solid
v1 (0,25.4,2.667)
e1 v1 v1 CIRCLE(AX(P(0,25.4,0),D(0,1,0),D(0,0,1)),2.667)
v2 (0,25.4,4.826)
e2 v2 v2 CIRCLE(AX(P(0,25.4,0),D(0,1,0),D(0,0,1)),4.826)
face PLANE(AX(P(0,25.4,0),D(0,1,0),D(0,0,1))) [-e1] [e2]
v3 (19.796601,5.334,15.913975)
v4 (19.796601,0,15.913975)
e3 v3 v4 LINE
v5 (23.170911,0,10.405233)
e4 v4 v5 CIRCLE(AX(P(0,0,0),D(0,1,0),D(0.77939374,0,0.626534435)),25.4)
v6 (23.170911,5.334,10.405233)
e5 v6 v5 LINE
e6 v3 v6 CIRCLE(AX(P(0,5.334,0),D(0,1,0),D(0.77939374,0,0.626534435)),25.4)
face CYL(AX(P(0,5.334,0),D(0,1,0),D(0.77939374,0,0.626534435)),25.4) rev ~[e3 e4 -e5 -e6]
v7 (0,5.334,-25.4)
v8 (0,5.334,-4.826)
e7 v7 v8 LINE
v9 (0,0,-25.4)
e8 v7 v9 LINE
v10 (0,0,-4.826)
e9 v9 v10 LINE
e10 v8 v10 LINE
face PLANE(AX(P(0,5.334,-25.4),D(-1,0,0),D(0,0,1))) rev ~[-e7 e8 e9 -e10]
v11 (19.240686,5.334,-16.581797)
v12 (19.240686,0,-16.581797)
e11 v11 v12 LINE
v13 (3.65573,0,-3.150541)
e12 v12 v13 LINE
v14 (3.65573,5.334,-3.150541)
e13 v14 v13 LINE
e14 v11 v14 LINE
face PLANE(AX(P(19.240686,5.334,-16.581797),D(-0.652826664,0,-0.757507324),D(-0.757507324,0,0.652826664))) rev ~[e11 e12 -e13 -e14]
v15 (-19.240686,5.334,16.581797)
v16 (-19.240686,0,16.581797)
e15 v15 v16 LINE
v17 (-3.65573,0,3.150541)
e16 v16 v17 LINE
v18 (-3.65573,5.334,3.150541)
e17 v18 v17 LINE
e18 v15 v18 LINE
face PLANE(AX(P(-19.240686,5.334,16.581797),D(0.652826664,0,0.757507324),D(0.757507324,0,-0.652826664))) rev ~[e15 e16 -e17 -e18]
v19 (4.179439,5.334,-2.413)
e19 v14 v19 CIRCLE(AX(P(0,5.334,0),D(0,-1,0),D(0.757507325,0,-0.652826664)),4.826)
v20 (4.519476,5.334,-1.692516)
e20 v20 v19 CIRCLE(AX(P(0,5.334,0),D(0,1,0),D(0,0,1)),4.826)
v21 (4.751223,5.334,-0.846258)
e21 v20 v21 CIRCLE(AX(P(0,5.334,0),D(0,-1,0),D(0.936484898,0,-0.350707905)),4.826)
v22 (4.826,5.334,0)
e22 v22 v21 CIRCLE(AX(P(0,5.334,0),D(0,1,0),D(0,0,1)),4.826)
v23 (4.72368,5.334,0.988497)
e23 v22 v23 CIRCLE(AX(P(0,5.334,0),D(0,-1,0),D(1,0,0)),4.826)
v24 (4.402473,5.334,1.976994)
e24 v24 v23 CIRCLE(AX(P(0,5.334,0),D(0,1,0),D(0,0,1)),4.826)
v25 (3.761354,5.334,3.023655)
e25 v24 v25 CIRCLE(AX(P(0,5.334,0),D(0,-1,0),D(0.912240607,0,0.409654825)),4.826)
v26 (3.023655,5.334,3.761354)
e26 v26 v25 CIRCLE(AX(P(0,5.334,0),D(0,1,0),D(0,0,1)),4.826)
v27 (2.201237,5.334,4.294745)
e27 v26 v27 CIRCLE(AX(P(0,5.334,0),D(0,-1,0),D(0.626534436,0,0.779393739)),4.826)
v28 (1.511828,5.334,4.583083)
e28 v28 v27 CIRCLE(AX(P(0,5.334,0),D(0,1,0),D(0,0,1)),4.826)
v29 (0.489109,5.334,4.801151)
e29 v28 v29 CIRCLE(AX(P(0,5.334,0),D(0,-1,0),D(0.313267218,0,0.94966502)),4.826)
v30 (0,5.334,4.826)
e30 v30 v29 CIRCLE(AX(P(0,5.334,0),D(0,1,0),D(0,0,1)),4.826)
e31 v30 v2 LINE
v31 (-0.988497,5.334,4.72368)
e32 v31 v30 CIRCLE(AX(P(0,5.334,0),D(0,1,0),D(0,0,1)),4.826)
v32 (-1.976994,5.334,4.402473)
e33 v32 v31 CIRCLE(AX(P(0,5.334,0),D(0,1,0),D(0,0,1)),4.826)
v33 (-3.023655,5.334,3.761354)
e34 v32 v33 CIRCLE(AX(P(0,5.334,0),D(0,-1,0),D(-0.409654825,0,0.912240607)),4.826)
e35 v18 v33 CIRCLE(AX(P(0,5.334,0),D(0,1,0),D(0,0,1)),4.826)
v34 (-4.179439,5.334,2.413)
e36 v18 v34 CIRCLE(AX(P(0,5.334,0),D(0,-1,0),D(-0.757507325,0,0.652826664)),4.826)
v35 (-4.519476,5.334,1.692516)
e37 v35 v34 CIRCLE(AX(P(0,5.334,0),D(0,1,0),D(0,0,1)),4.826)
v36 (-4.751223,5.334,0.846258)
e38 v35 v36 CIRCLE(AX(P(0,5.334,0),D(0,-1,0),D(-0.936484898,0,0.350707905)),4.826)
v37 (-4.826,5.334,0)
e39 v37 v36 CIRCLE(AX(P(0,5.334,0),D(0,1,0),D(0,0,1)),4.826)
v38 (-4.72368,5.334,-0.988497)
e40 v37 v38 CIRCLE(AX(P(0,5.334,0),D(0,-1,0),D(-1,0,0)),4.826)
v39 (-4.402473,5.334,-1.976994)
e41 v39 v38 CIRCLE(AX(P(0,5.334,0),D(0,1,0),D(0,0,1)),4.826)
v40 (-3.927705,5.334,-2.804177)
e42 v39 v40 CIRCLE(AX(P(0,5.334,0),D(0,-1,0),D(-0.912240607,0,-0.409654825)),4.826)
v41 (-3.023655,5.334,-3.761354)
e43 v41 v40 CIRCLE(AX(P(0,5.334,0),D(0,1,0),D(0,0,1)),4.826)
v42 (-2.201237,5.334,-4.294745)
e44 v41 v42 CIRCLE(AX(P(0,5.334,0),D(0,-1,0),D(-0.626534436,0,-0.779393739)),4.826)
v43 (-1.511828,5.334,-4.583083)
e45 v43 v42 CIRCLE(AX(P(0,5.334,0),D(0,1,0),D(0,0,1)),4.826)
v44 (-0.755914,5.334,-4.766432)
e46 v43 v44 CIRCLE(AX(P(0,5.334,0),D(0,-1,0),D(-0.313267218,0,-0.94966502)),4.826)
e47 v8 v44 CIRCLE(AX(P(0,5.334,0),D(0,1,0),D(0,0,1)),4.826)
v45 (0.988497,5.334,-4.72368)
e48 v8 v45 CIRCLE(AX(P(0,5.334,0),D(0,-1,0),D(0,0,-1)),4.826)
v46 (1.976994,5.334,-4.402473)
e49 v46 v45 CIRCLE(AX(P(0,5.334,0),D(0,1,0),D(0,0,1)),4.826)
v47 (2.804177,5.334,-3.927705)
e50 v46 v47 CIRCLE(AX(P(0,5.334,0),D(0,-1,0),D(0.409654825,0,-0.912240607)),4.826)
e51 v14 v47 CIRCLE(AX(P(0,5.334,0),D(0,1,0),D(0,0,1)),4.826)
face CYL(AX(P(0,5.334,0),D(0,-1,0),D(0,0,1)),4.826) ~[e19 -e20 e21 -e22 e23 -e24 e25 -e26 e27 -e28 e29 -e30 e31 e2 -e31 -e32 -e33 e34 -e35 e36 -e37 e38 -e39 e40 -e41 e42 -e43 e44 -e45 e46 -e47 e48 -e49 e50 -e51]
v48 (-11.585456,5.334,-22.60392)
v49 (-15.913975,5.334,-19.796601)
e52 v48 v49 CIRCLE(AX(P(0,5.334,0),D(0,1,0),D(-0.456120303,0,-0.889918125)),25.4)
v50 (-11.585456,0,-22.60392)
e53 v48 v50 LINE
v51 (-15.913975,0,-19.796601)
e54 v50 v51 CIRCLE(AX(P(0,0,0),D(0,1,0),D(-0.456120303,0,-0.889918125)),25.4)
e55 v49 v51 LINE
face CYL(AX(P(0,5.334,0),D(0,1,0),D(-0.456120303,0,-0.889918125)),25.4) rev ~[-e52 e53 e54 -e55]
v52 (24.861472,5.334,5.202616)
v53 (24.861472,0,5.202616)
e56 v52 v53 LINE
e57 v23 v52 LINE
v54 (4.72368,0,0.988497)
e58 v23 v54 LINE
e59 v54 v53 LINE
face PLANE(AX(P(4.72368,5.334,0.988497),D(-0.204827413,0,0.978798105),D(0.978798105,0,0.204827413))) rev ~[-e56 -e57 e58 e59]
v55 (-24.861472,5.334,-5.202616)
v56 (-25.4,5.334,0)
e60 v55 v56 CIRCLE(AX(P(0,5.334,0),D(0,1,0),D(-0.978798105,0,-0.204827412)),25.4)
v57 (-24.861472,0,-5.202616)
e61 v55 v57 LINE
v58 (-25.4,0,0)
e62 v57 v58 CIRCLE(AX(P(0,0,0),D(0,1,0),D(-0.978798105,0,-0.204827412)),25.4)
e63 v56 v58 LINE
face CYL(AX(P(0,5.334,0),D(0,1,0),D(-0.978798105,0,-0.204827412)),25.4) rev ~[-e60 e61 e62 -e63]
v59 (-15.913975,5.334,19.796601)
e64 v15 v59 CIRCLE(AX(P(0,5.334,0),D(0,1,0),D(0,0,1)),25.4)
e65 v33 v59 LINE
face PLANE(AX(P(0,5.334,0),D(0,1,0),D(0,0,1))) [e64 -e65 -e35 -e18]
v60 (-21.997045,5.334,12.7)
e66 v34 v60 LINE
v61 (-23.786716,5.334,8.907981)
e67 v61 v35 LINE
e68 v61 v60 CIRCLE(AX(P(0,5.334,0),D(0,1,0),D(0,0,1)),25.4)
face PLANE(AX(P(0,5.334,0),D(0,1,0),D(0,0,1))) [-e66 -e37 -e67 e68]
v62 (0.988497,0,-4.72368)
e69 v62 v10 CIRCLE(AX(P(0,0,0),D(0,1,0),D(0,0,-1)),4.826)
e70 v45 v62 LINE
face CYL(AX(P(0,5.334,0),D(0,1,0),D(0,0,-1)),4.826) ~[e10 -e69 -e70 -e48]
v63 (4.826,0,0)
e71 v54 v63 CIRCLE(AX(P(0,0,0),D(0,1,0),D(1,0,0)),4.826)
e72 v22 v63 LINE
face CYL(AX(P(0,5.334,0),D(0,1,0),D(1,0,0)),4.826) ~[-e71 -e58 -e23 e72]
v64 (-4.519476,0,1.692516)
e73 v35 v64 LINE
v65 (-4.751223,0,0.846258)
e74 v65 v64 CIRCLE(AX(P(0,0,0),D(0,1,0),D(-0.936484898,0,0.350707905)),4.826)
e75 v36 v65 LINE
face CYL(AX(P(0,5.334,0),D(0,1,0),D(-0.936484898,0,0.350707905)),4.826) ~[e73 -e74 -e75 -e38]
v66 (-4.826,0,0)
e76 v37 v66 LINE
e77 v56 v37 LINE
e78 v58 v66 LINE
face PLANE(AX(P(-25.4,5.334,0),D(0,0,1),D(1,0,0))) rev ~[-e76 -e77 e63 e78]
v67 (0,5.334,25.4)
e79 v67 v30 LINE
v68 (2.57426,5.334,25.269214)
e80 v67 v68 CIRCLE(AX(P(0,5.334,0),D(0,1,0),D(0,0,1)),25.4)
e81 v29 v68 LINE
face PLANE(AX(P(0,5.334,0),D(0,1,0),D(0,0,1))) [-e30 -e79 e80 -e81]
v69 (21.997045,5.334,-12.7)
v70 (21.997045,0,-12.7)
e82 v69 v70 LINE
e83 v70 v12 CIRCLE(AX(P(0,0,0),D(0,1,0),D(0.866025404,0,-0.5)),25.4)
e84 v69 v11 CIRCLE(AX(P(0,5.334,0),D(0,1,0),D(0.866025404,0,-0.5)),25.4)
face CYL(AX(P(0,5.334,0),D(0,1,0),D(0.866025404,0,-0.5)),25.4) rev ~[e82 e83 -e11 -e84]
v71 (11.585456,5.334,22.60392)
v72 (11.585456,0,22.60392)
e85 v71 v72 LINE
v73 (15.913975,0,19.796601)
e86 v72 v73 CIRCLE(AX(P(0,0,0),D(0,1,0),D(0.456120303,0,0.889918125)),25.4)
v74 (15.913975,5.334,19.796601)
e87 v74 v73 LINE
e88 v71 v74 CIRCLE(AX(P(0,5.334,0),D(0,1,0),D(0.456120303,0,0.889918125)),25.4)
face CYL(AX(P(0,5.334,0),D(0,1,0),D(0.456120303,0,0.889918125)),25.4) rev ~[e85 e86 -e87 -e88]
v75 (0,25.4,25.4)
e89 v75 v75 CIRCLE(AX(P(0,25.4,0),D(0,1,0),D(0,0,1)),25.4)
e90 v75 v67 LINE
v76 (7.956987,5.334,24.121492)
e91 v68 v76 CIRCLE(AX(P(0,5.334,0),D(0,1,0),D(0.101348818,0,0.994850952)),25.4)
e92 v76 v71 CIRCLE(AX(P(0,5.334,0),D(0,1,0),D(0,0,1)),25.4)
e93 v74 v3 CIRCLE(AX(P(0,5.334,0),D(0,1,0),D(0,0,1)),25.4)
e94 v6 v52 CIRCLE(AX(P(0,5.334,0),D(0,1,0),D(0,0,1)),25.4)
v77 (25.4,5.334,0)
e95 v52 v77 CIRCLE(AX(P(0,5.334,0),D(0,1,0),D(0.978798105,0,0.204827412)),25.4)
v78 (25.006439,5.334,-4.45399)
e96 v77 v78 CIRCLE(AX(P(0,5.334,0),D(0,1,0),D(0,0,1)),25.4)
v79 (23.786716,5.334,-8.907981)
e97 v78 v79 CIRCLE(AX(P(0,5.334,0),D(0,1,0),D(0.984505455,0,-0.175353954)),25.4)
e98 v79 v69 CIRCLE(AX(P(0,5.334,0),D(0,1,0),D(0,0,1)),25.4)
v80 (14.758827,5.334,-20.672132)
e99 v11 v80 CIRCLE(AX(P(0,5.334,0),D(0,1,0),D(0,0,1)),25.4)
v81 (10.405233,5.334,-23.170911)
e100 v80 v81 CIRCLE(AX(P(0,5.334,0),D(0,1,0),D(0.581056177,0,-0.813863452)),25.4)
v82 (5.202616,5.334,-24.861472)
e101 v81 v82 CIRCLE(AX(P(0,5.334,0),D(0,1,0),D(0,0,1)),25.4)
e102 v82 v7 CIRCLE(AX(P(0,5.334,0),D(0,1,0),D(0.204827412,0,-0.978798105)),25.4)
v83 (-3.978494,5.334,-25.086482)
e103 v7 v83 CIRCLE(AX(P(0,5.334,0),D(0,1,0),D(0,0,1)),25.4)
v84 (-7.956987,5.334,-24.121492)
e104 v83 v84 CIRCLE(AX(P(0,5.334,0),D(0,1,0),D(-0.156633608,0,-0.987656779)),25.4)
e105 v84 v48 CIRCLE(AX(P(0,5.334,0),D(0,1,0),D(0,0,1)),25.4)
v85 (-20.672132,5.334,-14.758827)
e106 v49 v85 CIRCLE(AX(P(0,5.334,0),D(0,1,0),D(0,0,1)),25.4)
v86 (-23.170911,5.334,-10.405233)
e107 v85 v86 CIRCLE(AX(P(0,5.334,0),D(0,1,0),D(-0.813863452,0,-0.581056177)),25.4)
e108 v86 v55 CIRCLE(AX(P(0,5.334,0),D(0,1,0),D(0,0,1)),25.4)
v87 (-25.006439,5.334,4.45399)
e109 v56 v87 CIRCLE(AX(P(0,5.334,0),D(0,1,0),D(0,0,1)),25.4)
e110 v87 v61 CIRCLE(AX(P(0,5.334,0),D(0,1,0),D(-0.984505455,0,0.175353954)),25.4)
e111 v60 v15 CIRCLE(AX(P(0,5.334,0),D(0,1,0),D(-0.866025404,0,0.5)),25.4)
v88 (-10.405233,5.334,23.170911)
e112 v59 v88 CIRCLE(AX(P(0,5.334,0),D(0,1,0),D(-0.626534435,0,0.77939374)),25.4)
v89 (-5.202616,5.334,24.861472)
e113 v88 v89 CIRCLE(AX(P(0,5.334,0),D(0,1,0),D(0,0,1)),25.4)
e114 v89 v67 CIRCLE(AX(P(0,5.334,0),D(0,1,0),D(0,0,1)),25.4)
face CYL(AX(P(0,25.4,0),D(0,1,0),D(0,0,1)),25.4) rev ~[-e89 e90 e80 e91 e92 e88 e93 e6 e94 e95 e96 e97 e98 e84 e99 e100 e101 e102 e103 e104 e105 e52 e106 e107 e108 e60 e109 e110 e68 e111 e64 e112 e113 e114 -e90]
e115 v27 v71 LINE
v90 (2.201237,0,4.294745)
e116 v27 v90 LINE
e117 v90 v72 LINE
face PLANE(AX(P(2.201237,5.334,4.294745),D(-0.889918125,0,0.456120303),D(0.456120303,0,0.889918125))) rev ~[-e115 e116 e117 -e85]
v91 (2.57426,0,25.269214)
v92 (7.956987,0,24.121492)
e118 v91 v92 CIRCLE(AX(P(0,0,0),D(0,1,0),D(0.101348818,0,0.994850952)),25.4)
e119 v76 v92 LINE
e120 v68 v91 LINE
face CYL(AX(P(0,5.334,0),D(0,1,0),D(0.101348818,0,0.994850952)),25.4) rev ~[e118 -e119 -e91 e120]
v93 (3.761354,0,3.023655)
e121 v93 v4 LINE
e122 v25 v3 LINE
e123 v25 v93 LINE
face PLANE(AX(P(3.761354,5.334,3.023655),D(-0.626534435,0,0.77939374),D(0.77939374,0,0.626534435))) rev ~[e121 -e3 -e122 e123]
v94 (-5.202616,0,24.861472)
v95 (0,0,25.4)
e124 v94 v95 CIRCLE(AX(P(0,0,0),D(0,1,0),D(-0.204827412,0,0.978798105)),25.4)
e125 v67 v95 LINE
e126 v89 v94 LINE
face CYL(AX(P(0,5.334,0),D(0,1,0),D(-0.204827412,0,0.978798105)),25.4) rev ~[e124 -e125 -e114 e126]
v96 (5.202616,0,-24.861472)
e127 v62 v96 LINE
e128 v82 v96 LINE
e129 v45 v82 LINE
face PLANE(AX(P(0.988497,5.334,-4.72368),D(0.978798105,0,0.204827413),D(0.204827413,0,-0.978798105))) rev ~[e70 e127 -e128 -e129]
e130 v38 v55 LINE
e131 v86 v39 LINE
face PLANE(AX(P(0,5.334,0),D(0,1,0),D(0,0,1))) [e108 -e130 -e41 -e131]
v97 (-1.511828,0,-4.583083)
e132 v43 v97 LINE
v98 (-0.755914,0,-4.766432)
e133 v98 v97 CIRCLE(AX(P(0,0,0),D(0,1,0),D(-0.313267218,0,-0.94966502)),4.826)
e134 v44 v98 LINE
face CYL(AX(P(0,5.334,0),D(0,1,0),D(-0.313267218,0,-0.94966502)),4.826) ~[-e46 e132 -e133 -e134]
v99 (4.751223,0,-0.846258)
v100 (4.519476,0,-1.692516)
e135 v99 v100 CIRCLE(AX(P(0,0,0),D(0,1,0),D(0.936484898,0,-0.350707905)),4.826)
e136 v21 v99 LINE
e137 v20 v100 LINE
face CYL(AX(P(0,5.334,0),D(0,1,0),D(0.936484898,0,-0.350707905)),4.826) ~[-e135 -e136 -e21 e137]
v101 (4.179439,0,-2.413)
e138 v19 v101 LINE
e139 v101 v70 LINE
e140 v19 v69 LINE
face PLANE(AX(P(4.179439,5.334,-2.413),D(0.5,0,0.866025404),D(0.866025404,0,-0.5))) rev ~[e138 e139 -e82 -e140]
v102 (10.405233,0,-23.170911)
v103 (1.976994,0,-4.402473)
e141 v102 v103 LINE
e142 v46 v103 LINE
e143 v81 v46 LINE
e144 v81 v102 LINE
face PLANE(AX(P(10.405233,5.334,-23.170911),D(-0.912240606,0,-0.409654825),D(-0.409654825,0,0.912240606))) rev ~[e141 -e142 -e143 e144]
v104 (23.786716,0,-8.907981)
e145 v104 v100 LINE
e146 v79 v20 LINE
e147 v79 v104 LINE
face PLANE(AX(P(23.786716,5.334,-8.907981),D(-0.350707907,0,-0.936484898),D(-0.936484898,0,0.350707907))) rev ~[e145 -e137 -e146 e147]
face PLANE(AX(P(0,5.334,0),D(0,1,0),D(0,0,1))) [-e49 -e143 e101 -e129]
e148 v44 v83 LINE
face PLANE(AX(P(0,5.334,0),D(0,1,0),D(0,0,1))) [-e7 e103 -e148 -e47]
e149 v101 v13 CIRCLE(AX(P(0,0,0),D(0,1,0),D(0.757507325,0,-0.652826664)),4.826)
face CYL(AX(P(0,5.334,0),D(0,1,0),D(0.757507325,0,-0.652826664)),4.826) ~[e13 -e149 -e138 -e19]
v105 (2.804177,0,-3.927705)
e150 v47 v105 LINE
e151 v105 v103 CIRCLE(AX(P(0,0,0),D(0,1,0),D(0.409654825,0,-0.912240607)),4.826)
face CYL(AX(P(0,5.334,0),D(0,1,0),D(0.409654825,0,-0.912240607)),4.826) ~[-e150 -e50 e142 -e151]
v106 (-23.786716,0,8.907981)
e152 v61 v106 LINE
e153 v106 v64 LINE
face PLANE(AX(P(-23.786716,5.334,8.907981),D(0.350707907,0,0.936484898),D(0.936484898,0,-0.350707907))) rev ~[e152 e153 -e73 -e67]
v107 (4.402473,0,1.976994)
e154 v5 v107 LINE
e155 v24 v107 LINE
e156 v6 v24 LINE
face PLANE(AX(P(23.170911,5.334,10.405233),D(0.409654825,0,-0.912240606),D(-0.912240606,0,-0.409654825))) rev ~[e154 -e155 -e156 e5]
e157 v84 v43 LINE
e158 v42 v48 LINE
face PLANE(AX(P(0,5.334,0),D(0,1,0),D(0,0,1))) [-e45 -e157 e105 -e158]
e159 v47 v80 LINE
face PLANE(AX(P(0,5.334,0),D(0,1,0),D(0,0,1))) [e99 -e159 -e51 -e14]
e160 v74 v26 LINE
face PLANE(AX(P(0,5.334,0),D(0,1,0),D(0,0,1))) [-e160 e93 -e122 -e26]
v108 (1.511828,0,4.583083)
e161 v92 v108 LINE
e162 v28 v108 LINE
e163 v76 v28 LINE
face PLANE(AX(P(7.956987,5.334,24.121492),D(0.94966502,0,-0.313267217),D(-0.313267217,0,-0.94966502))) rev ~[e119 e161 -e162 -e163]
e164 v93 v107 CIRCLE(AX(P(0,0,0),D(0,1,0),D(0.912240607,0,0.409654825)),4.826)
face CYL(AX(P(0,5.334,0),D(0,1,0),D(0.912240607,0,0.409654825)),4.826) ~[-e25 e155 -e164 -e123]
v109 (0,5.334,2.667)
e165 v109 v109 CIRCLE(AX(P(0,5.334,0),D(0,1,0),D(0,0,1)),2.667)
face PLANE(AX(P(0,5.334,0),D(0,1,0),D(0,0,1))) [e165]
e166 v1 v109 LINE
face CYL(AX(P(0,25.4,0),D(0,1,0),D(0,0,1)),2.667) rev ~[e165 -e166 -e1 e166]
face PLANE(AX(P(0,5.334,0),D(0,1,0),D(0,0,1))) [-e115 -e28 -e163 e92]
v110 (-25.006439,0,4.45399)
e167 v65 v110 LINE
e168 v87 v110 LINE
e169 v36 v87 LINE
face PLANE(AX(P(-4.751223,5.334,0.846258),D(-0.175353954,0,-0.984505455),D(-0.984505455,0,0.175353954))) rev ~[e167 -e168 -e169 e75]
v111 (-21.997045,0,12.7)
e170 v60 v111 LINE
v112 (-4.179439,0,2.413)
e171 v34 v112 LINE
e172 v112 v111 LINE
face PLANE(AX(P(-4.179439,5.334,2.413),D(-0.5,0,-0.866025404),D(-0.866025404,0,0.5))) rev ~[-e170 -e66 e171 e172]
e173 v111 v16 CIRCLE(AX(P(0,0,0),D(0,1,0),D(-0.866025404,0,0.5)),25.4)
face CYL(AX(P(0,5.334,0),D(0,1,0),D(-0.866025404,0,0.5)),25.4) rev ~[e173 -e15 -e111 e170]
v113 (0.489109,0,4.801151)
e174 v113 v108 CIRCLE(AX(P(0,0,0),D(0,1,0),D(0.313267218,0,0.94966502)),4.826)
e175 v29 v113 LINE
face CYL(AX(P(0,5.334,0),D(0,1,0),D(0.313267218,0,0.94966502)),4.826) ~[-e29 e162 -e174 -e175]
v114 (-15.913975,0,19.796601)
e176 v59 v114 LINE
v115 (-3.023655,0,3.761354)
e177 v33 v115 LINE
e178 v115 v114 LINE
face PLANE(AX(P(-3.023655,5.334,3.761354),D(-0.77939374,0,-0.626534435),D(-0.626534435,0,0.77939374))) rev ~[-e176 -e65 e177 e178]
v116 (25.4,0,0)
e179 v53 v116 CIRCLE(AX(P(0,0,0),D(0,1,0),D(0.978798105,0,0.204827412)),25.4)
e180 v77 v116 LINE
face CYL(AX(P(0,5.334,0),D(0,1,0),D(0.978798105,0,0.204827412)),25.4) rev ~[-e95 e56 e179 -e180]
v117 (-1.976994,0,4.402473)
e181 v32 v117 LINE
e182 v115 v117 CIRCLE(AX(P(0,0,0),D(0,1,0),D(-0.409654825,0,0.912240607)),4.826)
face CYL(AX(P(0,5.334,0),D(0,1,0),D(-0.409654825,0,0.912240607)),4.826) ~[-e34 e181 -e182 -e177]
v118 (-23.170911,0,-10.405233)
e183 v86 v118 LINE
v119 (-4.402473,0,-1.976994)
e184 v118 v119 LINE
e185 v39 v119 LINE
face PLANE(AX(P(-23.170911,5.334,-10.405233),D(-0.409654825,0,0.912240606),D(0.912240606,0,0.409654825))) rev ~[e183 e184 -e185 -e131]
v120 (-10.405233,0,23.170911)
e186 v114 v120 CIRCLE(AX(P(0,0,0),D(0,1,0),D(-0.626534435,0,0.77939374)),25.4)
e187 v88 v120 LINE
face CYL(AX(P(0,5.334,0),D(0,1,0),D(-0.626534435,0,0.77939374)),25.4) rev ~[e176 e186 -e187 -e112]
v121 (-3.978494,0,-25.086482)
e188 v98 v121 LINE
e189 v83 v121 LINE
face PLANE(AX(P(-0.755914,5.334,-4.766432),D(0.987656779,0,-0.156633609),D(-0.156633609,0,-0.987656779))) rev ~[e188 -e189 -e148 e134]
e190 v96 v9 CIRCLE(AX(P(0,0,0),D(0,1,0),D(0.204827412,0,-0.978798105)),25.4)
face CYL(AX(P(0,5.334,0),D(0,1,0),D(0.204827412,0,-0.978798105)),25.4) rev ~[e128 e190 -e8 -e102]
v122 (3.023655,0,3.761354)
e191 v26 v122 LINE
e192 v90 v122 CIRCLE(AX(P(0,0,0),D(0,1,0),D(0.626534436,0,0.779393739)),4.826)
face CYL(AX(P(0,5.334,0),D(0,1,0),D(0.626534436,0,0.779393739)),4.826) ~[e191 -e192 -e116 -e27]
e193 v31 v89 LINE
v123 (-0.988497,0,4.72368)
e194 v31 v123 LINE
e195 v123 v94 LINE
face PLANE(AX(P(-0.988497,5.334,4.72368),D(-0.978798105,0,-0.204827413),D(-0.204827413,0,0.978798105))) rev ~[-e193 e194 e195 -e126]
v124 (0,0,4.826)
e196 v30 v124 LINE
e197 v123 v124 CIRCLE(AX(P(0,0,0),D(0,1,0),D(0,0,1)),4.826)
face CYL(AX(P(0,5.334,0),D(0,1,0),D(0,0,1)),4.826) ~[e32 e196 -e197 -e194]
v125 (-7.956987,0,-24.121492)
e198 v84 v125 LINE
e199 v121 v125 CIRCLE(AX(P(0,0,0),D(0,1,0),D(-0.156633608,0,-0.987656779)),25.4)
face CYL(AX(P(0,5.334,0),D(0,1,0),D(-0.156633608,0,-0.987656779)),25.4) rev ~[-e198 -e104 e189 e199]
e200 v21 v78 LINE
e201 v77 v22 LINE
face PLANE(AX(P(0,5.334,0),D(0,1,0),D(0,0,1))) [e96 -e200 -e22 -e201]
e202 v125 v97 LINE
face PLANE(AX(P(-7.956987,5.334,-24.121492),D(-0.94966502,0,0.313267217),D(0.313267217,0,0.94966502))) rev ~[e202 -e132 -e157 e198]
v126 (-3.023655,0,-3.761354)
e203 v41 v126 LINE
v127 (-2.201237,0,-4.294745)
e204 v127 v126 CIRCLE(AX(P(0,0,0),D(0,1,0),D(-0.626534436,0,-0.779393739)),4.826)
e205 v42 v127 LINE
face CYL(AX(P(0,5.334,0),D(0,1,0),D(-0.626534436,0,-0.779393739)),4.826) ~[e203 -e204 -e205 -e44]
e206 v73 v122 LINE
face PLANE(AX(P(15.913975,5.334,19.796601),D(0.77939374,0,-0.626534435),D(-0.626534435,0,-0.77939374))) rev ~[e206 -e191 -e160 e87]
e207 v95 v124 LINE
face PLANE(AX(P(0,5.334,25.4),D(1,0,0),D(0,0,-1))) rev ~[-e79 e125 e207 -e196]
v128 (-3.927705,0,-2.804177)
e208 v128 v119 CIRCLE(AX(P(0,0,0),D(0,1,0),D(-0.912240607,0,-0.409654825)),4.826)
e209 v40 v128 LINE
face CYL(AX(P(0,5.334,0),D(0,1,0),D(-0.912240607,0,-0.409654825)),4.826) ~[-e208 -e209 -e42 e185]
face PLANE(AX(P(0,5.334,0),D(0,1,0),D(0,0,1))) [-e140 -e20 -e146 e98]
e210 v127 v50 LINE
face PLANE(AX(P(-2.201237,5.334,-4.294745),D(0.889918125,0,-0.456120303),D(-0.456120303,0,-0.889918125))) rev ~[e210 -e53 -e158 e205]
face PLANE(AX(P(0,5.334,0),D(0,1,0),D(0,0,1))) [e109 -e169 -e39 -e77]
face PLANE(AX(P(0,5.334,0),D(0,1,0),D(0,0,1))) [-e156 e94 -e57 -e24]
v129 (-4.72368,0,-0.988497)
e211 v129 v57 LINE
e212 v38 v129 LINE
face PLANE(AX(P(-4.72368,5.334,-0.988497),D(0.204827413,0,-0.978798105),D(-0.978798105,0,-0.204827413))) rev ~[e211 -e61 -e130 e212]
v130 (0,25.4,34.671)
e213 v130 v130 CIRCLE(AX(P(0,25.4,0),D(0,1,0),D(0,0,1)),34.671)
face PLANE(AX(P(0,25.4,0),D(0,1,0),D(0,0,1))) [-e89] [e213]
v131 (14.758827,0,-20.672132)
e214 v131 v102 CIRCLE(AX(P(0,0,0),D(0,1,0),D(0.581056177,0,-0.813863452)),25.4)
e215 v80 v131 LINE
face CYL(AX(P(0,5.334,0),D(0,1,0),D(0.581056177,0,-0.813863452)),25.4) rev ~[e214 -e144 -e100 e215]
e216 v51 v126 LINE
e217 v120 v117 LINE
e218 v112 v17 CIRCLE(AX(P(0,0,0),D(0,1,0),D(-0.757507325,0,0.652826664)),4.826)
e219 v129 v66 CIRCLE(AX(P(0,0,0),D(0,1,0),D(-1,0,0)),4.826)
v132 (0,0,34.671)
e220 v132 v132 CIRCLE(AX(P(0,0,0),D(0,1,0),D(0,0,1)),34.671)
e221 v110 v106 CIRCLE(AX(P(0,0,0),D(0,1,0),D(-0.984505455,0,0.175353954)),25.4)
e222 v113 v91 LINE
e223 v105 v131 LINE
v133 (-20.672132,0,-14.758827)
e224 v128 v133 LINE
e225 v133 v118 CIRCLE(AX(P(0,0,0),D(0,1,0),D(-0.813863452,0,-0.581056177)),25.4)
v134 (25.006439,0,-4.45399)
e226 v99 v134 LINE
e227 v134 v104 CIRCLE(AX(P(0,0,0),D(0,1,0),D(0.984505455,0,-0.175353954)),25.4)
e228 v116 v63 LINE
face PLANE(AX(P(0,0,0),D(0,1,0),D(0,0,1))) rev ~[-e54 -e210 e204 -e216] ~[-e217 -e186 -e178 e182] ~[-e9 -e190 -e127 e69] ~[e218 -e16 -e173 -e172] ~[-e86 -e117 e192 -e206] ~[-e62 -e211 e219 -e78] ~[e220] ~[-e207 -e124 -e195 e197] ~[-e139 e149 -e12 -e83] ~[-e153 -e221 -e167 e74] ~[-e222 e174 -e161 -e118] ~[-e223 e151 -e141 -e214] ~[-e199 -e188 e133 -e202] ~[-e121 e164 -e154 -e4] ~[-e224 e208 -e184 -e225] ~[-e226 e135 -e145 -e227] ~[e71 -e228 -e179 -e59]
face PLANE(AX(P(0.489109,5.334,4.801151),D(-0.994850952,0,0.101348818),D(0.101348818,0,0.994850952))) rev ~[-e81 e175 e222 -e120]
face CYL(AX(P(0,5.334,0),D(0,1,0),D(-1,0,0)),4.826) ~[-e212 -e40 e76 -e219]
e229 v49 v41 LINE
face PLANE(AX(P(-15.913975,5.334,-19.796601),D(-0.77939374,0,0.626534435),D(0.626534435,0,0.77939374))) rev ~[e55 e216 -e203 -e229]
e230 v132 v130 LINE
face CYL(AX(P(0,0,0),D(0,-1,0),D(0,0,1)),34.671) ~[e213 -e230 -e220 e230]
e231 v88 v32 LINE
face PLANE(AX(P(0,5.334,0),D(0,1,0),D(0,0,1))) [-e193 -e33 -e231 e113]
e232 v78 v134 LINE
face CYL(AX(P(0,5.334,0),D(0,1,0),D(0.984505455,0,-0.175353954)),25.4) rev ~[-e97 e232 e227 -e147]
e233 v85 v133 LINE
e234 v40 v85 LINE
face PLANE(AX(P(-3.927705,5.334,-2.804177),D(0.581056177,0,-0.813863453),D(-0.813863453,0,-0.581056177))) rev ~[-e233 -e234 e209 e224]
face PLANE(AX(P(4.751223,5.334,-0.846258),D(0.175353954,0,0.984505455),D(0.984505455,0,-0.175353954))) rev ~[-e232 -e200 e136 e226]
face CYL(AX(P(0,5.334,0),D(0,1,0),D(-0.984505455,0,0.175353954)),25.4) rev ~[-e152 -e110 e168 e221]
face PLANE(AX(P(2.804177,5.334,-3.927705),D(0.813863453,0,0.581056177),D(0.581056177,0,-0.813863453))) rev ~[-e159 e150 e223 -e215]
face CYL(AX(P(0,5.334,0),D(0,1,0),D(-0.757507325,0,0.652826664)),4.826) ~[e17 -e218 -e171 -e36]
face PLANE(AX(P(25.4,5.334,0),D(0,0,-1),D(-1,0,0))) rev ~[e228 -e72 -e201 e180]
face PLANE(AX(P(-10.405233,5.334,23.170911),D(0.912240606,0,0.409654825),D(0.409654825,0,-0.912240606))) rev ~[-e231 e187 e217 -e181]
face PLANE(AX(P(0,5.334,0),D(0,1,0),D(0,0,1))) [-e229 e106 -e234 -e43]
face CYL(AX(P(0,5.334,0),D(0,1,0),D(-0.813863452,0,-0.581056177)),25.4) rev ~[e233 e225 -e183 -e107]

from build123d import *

# Parameters (mm, degrees)
SKETCH1_R           = 34.671
BOSS_EXTRUDE1_DEPTH = 25.4
SKETCH2_R           = 25.4
CUT_EXTRUDE1_DEPTH  = 20.066
SKETCH4_R           = 4.826
BOSS_EXTRUDE2_DEPTH = 20.066
SKETCH5_R           = 2.667
CUT_EXTRUDE2_DEPTH  = 20.066
CUT_EXTRUDE3_DEPTH  = 53.979249126


with BuildPart() as part:
    # Sketch1 → Boss-Extrude1 (new body)
    with BuildSketch(Plane(origin=(0, 0, 0), x_dir=(1, 0, 0), z_dir=(0, 1, 0))):
        with Locations(Location((0, 0, 0), (0, 0, 270))):
            Circle(SKETCH1_R)
    extrude(amount=BOSS_EXTRUDE1_DEPTH)

    # Sketch2 → Cut-Extrude1 (cut)
    with BuildSketch(Plane(origin=(0, 25.4, 0), x_dir=(1, 0, 0), z_dir=(0, 1, 0))):
        with Locations(Location((0, 0, 0), (0, 0, 270))):
            Circle(SKETCH2_R)
    extrude(amount=-CUT_EXTRUDE1_DEPTH, mode=Mode.SUBTRACT)

    # Sketch4 → Boss-Extrude2 (add)
    with BuildSketch(Plane(origin=(0, 5.334, 0), x_dir=(1, 0, 0), z_dir=(0, 1, 0))):
        with Locations(Location((0, 0, 0), (0, 0, 270))):
            Circle(SKETCH4_R)
    extrude(amount=BOSS_EXTRUDE2_DEPTH)

    # Sketch5 → Cut-Extrude2 (cut)
    with BuildSketch(Plane(origin=(0, 25.4, 0), x_dir=(1, 0, 0), z_dir=(0, 1, 0))):
        with Locations(Location((0, 0, 0), (0, 0, 270))):
            Circle(SKETCH5_R)
    extrude(amount=-CUT_EXTRUDE2_DEPTH, mode=Mode.SUBTRACT)

    # Sketch6 → Cut-Extrude3 (cut, through all)
    with BuildSketch(Plane(origin=(0, 5.334, 0), x_dir=(1, 0, 0), z_dir=(0, 1, 0))):
        with BuildLine():
            ThreePointArc((-20.672131698, 14.758826886), (-22.029333921, 12.643909483), (-23.170911404, 10.405232564))
            Line((-23.170911404, 10.405232564), (-4.402473167, 1.976994187))
            ThreePointArc((-4.402473167, 1.976994187), (-4.185573445, 2.402342802), (-3.927705023, 2.804177108))
            Line((-3.927705023, 2.804177108), (-20.672131698, 14.758826886))
        make_face()
        with BuildLine():
            Line((-15.913974648, 19.796600993), (-3.023655183, 3.761354189))
            ThreePointArc((-3.023655183, 3.761354189), (-2.626023591, 4.048984577), (-2.201236583, 4.294744871))
            Line((-2.201236583, 4.294744871), (-11.585455702, 22.603920372))
            ThreePointArc((-11.585455702, 22.603920372), (-13.821176792, 21.31044514), (-15.913974648, 19.796600993))
        make_face()
        with BuildLine():
            Line((-7.956987324, 24.121491511), (-1.511827592, 4.583083387))
            ThreePointArc((-1.511827592, 4.583083387), (-1.13757061, 4.690011632), (-0.755913796, 4.766431614))
            Line((-0.755913796, 4.766431614), (-3.978493662, 25.08648218))
            ThreePointArc((-3.978493662, 25.08648218), (-5.987213738, 24.684271747), (-7.956987324, 24.121491511))
        make_face()
        with BuildLine():
            Line((0, 25.4), (0, 4.826))
            ThreePointArc((0, 4.826), (0.496889313, 4.800351759), (0.988497094, 4.723679656))
            Line((0.988497094, 4.723679656), (5.202616282, 24.861471876))
            ThreePointArc((5.202616282, 24.861471876), (2.61520691, 25.265009258), (0, 25.4))
        make_face()
        with BuildLine():
            Line((10.405232564, 23.170911404), (1.976994187, 4.402473167))
            ThreePointArc((1.976994187, 4.402473167), (2.402342802, 4.185573445), (2.804177108, 3.927705023))
            Line((2.804177108, 3.927705023), (14.758826886, 20.672131698))
            ThreePointArc((14.758826886, 20.672131698), (12.643909483, 22.029333921), (10.405232564, 23.170911404))
        make_face()
        with BuildLine():
            Line((19.240686042, 16.581797268), (3.655730348, 3.150541481))
            ThreePointArc((3.655730348, 3.150541481), (3.93490279, 2.794068008), (4.179438599, 2.413))
            Line((4.179438599, 2.413), (21.997045256, 12.7))
            ThreePointArc((21.997045256, 12.7), (20.710014683, 14.705621097), (19.240686042, 16.581797268))
        make_face()
        with BuildLine():
            Line((23.786716405, 8.90798084), (4.519476117, 1.69251636))
            ThreePointArc((4.519476117, 1.69251636), (4.654621925, 1.274664949), (4.751223326, 0.84625818))
            Line((4.751223326, 0.84625818), (25.006438558, 4.45399042))
            ThreePointArc((25.006438558, 4.45399042), (24.498010133, 6.708762891), (23.786716405, 8.90798084))
        make_face()
        with BuildLine():
            Line((25.4, 0), (4.826, 0))
            ThreePointArc((4.826, 0), (4.800351759, -0.496889313), (4.723679656, -0.988497094))
            Line((4.723679656, -0.988497094), (24.861471876, -5.202616282))
            ThreePointArc((24.861471876, -5.202616282), (25.265009258, -2.61520691), (25.4, 0))
        make_face()
        with BuildLine():
            Line((23.170911404, -10.405232564), (4.402473167, -1.976994187))
            ThreePointArc((4.402473167, -1.976994187), (4.115324299, -2.520789939), (3.761354189, -3.023655183))
            Line((3.761354189, -3.023655183), (19.796600993, -15.913974648))
            ThreePointArc((19.796600993, -15.913974648), (21.659601572, -13.267315469), (23.170911404, -10.405232564))
        make_face()
        with BuildLine():
            Line((15.913974648, -19.796600993), (3.023655183, -3.761354189))
            ThreePointArc((3.023655183, -3.761354189), (2.626023591, -4.048984577), (2.201236583, -4.294744871))
            Line((2.201236583, -4.294744871), (11.585455702, -22.603920372))
            ThreePointArc((11.585455702, -22.603920372), (13.821176792, -21.31044514), (15.913974648, -19.796600993))
        make_face()
        with BuildLine():
            Line((7.956987324, -24.121491511), (1.511827592, -4.583083387))
            ThreePointArc((1.511827592, -4.583083387), (1.00639234, -4.719899412), (0.489109394, -4.801150695))
            Line((0.489109394, -4.801150695), (2.574259969, -25.269214187))
            ThreePointArc((2.574259969, -25.269214187), (5.296801792, -24.841575851), (7.956987324, -24.121491511))
        make_face()
        with BuildLine():
            Line((0, -25.4), (0, -4.826))
            ThreePointArc((0, -4.826), (-0.496889313, -4.800351759), (-0.988497094, -4.723679656))
            Line((-0.988497094, -4.723679656), (-5.202616282, -24.861471876))
            ThreePointArc((-5.202616282, -24.861471876), (-2.61520691, -25.265009258), (0, -25.4))
        make_face()
        with BuildLine():
            Line((-10.405232564, -23.170911404), (-1.976994187, -4.402473167))
            ThreePointArc((-1.976994187, -4.402473167), (-2.520789939, -4.115324299), (-3.023655183, -3.761354189))
            Line((-3.023655183, -3.761354189), (-15.913974648, -19.796600993))
            ThreePointArc((-15.913974648, -19.796600993), (-13.267315469, -21.659601572), (-10.405232564, -23.170911404))
        make_face()
        with BuildLine():
            Line((-19.240686042, -16.581797268), (-3.655730348, -3.150541481))
            ThreePointArc((-3.655730348, -3.150541481), (-3.93490279, -2.794068008), (-4.179438599, -2.413))
            Line((-4.179438599, -2.413), (-21.997045256, -12.7))
            ThreePointArc((-21.997045256, -12.7), (-20.710014683, -14.705621097), (-19.240686042, -16.581797268))
        make_face()
        with BuildLine():
            Line((-4.751223326, -0.84625818), (-25.006438558, -4.45399042))
            ThreePointArc((-25.006438558, -4.45399042), (-24.498010133, -6.708762891), (-23.786716405, -8.90798084))
            Line((-23.786716405, -8.90798084), (-4.519476117, -1.69251636))
            ThreePointArc((-4.519476117, -1.69251636), (-4.654621925, -1.274664949), (-4.751223326, -0.84625818))
        make_face()
        with BuildLine():
            ThreePointArc((-24.861471876, 5.202616282), (-25.265009258, 2.61520691), (-25.4, 0))
            Line((-25.4, 0), (-4.826, 0))
            ThreePointArc((-4.826, 0), (-4.800351759, 0.496889313), (-4.723679656, 0.988497094))
            Line((-4.723679656, 0.988497094), (-24.861471876, 5.202616282))
        make_face()
    extrude(amount=-CUT_EXTRUDE3_DEPTH, mode=Mode.SUBTRACT)


solid = part.part
